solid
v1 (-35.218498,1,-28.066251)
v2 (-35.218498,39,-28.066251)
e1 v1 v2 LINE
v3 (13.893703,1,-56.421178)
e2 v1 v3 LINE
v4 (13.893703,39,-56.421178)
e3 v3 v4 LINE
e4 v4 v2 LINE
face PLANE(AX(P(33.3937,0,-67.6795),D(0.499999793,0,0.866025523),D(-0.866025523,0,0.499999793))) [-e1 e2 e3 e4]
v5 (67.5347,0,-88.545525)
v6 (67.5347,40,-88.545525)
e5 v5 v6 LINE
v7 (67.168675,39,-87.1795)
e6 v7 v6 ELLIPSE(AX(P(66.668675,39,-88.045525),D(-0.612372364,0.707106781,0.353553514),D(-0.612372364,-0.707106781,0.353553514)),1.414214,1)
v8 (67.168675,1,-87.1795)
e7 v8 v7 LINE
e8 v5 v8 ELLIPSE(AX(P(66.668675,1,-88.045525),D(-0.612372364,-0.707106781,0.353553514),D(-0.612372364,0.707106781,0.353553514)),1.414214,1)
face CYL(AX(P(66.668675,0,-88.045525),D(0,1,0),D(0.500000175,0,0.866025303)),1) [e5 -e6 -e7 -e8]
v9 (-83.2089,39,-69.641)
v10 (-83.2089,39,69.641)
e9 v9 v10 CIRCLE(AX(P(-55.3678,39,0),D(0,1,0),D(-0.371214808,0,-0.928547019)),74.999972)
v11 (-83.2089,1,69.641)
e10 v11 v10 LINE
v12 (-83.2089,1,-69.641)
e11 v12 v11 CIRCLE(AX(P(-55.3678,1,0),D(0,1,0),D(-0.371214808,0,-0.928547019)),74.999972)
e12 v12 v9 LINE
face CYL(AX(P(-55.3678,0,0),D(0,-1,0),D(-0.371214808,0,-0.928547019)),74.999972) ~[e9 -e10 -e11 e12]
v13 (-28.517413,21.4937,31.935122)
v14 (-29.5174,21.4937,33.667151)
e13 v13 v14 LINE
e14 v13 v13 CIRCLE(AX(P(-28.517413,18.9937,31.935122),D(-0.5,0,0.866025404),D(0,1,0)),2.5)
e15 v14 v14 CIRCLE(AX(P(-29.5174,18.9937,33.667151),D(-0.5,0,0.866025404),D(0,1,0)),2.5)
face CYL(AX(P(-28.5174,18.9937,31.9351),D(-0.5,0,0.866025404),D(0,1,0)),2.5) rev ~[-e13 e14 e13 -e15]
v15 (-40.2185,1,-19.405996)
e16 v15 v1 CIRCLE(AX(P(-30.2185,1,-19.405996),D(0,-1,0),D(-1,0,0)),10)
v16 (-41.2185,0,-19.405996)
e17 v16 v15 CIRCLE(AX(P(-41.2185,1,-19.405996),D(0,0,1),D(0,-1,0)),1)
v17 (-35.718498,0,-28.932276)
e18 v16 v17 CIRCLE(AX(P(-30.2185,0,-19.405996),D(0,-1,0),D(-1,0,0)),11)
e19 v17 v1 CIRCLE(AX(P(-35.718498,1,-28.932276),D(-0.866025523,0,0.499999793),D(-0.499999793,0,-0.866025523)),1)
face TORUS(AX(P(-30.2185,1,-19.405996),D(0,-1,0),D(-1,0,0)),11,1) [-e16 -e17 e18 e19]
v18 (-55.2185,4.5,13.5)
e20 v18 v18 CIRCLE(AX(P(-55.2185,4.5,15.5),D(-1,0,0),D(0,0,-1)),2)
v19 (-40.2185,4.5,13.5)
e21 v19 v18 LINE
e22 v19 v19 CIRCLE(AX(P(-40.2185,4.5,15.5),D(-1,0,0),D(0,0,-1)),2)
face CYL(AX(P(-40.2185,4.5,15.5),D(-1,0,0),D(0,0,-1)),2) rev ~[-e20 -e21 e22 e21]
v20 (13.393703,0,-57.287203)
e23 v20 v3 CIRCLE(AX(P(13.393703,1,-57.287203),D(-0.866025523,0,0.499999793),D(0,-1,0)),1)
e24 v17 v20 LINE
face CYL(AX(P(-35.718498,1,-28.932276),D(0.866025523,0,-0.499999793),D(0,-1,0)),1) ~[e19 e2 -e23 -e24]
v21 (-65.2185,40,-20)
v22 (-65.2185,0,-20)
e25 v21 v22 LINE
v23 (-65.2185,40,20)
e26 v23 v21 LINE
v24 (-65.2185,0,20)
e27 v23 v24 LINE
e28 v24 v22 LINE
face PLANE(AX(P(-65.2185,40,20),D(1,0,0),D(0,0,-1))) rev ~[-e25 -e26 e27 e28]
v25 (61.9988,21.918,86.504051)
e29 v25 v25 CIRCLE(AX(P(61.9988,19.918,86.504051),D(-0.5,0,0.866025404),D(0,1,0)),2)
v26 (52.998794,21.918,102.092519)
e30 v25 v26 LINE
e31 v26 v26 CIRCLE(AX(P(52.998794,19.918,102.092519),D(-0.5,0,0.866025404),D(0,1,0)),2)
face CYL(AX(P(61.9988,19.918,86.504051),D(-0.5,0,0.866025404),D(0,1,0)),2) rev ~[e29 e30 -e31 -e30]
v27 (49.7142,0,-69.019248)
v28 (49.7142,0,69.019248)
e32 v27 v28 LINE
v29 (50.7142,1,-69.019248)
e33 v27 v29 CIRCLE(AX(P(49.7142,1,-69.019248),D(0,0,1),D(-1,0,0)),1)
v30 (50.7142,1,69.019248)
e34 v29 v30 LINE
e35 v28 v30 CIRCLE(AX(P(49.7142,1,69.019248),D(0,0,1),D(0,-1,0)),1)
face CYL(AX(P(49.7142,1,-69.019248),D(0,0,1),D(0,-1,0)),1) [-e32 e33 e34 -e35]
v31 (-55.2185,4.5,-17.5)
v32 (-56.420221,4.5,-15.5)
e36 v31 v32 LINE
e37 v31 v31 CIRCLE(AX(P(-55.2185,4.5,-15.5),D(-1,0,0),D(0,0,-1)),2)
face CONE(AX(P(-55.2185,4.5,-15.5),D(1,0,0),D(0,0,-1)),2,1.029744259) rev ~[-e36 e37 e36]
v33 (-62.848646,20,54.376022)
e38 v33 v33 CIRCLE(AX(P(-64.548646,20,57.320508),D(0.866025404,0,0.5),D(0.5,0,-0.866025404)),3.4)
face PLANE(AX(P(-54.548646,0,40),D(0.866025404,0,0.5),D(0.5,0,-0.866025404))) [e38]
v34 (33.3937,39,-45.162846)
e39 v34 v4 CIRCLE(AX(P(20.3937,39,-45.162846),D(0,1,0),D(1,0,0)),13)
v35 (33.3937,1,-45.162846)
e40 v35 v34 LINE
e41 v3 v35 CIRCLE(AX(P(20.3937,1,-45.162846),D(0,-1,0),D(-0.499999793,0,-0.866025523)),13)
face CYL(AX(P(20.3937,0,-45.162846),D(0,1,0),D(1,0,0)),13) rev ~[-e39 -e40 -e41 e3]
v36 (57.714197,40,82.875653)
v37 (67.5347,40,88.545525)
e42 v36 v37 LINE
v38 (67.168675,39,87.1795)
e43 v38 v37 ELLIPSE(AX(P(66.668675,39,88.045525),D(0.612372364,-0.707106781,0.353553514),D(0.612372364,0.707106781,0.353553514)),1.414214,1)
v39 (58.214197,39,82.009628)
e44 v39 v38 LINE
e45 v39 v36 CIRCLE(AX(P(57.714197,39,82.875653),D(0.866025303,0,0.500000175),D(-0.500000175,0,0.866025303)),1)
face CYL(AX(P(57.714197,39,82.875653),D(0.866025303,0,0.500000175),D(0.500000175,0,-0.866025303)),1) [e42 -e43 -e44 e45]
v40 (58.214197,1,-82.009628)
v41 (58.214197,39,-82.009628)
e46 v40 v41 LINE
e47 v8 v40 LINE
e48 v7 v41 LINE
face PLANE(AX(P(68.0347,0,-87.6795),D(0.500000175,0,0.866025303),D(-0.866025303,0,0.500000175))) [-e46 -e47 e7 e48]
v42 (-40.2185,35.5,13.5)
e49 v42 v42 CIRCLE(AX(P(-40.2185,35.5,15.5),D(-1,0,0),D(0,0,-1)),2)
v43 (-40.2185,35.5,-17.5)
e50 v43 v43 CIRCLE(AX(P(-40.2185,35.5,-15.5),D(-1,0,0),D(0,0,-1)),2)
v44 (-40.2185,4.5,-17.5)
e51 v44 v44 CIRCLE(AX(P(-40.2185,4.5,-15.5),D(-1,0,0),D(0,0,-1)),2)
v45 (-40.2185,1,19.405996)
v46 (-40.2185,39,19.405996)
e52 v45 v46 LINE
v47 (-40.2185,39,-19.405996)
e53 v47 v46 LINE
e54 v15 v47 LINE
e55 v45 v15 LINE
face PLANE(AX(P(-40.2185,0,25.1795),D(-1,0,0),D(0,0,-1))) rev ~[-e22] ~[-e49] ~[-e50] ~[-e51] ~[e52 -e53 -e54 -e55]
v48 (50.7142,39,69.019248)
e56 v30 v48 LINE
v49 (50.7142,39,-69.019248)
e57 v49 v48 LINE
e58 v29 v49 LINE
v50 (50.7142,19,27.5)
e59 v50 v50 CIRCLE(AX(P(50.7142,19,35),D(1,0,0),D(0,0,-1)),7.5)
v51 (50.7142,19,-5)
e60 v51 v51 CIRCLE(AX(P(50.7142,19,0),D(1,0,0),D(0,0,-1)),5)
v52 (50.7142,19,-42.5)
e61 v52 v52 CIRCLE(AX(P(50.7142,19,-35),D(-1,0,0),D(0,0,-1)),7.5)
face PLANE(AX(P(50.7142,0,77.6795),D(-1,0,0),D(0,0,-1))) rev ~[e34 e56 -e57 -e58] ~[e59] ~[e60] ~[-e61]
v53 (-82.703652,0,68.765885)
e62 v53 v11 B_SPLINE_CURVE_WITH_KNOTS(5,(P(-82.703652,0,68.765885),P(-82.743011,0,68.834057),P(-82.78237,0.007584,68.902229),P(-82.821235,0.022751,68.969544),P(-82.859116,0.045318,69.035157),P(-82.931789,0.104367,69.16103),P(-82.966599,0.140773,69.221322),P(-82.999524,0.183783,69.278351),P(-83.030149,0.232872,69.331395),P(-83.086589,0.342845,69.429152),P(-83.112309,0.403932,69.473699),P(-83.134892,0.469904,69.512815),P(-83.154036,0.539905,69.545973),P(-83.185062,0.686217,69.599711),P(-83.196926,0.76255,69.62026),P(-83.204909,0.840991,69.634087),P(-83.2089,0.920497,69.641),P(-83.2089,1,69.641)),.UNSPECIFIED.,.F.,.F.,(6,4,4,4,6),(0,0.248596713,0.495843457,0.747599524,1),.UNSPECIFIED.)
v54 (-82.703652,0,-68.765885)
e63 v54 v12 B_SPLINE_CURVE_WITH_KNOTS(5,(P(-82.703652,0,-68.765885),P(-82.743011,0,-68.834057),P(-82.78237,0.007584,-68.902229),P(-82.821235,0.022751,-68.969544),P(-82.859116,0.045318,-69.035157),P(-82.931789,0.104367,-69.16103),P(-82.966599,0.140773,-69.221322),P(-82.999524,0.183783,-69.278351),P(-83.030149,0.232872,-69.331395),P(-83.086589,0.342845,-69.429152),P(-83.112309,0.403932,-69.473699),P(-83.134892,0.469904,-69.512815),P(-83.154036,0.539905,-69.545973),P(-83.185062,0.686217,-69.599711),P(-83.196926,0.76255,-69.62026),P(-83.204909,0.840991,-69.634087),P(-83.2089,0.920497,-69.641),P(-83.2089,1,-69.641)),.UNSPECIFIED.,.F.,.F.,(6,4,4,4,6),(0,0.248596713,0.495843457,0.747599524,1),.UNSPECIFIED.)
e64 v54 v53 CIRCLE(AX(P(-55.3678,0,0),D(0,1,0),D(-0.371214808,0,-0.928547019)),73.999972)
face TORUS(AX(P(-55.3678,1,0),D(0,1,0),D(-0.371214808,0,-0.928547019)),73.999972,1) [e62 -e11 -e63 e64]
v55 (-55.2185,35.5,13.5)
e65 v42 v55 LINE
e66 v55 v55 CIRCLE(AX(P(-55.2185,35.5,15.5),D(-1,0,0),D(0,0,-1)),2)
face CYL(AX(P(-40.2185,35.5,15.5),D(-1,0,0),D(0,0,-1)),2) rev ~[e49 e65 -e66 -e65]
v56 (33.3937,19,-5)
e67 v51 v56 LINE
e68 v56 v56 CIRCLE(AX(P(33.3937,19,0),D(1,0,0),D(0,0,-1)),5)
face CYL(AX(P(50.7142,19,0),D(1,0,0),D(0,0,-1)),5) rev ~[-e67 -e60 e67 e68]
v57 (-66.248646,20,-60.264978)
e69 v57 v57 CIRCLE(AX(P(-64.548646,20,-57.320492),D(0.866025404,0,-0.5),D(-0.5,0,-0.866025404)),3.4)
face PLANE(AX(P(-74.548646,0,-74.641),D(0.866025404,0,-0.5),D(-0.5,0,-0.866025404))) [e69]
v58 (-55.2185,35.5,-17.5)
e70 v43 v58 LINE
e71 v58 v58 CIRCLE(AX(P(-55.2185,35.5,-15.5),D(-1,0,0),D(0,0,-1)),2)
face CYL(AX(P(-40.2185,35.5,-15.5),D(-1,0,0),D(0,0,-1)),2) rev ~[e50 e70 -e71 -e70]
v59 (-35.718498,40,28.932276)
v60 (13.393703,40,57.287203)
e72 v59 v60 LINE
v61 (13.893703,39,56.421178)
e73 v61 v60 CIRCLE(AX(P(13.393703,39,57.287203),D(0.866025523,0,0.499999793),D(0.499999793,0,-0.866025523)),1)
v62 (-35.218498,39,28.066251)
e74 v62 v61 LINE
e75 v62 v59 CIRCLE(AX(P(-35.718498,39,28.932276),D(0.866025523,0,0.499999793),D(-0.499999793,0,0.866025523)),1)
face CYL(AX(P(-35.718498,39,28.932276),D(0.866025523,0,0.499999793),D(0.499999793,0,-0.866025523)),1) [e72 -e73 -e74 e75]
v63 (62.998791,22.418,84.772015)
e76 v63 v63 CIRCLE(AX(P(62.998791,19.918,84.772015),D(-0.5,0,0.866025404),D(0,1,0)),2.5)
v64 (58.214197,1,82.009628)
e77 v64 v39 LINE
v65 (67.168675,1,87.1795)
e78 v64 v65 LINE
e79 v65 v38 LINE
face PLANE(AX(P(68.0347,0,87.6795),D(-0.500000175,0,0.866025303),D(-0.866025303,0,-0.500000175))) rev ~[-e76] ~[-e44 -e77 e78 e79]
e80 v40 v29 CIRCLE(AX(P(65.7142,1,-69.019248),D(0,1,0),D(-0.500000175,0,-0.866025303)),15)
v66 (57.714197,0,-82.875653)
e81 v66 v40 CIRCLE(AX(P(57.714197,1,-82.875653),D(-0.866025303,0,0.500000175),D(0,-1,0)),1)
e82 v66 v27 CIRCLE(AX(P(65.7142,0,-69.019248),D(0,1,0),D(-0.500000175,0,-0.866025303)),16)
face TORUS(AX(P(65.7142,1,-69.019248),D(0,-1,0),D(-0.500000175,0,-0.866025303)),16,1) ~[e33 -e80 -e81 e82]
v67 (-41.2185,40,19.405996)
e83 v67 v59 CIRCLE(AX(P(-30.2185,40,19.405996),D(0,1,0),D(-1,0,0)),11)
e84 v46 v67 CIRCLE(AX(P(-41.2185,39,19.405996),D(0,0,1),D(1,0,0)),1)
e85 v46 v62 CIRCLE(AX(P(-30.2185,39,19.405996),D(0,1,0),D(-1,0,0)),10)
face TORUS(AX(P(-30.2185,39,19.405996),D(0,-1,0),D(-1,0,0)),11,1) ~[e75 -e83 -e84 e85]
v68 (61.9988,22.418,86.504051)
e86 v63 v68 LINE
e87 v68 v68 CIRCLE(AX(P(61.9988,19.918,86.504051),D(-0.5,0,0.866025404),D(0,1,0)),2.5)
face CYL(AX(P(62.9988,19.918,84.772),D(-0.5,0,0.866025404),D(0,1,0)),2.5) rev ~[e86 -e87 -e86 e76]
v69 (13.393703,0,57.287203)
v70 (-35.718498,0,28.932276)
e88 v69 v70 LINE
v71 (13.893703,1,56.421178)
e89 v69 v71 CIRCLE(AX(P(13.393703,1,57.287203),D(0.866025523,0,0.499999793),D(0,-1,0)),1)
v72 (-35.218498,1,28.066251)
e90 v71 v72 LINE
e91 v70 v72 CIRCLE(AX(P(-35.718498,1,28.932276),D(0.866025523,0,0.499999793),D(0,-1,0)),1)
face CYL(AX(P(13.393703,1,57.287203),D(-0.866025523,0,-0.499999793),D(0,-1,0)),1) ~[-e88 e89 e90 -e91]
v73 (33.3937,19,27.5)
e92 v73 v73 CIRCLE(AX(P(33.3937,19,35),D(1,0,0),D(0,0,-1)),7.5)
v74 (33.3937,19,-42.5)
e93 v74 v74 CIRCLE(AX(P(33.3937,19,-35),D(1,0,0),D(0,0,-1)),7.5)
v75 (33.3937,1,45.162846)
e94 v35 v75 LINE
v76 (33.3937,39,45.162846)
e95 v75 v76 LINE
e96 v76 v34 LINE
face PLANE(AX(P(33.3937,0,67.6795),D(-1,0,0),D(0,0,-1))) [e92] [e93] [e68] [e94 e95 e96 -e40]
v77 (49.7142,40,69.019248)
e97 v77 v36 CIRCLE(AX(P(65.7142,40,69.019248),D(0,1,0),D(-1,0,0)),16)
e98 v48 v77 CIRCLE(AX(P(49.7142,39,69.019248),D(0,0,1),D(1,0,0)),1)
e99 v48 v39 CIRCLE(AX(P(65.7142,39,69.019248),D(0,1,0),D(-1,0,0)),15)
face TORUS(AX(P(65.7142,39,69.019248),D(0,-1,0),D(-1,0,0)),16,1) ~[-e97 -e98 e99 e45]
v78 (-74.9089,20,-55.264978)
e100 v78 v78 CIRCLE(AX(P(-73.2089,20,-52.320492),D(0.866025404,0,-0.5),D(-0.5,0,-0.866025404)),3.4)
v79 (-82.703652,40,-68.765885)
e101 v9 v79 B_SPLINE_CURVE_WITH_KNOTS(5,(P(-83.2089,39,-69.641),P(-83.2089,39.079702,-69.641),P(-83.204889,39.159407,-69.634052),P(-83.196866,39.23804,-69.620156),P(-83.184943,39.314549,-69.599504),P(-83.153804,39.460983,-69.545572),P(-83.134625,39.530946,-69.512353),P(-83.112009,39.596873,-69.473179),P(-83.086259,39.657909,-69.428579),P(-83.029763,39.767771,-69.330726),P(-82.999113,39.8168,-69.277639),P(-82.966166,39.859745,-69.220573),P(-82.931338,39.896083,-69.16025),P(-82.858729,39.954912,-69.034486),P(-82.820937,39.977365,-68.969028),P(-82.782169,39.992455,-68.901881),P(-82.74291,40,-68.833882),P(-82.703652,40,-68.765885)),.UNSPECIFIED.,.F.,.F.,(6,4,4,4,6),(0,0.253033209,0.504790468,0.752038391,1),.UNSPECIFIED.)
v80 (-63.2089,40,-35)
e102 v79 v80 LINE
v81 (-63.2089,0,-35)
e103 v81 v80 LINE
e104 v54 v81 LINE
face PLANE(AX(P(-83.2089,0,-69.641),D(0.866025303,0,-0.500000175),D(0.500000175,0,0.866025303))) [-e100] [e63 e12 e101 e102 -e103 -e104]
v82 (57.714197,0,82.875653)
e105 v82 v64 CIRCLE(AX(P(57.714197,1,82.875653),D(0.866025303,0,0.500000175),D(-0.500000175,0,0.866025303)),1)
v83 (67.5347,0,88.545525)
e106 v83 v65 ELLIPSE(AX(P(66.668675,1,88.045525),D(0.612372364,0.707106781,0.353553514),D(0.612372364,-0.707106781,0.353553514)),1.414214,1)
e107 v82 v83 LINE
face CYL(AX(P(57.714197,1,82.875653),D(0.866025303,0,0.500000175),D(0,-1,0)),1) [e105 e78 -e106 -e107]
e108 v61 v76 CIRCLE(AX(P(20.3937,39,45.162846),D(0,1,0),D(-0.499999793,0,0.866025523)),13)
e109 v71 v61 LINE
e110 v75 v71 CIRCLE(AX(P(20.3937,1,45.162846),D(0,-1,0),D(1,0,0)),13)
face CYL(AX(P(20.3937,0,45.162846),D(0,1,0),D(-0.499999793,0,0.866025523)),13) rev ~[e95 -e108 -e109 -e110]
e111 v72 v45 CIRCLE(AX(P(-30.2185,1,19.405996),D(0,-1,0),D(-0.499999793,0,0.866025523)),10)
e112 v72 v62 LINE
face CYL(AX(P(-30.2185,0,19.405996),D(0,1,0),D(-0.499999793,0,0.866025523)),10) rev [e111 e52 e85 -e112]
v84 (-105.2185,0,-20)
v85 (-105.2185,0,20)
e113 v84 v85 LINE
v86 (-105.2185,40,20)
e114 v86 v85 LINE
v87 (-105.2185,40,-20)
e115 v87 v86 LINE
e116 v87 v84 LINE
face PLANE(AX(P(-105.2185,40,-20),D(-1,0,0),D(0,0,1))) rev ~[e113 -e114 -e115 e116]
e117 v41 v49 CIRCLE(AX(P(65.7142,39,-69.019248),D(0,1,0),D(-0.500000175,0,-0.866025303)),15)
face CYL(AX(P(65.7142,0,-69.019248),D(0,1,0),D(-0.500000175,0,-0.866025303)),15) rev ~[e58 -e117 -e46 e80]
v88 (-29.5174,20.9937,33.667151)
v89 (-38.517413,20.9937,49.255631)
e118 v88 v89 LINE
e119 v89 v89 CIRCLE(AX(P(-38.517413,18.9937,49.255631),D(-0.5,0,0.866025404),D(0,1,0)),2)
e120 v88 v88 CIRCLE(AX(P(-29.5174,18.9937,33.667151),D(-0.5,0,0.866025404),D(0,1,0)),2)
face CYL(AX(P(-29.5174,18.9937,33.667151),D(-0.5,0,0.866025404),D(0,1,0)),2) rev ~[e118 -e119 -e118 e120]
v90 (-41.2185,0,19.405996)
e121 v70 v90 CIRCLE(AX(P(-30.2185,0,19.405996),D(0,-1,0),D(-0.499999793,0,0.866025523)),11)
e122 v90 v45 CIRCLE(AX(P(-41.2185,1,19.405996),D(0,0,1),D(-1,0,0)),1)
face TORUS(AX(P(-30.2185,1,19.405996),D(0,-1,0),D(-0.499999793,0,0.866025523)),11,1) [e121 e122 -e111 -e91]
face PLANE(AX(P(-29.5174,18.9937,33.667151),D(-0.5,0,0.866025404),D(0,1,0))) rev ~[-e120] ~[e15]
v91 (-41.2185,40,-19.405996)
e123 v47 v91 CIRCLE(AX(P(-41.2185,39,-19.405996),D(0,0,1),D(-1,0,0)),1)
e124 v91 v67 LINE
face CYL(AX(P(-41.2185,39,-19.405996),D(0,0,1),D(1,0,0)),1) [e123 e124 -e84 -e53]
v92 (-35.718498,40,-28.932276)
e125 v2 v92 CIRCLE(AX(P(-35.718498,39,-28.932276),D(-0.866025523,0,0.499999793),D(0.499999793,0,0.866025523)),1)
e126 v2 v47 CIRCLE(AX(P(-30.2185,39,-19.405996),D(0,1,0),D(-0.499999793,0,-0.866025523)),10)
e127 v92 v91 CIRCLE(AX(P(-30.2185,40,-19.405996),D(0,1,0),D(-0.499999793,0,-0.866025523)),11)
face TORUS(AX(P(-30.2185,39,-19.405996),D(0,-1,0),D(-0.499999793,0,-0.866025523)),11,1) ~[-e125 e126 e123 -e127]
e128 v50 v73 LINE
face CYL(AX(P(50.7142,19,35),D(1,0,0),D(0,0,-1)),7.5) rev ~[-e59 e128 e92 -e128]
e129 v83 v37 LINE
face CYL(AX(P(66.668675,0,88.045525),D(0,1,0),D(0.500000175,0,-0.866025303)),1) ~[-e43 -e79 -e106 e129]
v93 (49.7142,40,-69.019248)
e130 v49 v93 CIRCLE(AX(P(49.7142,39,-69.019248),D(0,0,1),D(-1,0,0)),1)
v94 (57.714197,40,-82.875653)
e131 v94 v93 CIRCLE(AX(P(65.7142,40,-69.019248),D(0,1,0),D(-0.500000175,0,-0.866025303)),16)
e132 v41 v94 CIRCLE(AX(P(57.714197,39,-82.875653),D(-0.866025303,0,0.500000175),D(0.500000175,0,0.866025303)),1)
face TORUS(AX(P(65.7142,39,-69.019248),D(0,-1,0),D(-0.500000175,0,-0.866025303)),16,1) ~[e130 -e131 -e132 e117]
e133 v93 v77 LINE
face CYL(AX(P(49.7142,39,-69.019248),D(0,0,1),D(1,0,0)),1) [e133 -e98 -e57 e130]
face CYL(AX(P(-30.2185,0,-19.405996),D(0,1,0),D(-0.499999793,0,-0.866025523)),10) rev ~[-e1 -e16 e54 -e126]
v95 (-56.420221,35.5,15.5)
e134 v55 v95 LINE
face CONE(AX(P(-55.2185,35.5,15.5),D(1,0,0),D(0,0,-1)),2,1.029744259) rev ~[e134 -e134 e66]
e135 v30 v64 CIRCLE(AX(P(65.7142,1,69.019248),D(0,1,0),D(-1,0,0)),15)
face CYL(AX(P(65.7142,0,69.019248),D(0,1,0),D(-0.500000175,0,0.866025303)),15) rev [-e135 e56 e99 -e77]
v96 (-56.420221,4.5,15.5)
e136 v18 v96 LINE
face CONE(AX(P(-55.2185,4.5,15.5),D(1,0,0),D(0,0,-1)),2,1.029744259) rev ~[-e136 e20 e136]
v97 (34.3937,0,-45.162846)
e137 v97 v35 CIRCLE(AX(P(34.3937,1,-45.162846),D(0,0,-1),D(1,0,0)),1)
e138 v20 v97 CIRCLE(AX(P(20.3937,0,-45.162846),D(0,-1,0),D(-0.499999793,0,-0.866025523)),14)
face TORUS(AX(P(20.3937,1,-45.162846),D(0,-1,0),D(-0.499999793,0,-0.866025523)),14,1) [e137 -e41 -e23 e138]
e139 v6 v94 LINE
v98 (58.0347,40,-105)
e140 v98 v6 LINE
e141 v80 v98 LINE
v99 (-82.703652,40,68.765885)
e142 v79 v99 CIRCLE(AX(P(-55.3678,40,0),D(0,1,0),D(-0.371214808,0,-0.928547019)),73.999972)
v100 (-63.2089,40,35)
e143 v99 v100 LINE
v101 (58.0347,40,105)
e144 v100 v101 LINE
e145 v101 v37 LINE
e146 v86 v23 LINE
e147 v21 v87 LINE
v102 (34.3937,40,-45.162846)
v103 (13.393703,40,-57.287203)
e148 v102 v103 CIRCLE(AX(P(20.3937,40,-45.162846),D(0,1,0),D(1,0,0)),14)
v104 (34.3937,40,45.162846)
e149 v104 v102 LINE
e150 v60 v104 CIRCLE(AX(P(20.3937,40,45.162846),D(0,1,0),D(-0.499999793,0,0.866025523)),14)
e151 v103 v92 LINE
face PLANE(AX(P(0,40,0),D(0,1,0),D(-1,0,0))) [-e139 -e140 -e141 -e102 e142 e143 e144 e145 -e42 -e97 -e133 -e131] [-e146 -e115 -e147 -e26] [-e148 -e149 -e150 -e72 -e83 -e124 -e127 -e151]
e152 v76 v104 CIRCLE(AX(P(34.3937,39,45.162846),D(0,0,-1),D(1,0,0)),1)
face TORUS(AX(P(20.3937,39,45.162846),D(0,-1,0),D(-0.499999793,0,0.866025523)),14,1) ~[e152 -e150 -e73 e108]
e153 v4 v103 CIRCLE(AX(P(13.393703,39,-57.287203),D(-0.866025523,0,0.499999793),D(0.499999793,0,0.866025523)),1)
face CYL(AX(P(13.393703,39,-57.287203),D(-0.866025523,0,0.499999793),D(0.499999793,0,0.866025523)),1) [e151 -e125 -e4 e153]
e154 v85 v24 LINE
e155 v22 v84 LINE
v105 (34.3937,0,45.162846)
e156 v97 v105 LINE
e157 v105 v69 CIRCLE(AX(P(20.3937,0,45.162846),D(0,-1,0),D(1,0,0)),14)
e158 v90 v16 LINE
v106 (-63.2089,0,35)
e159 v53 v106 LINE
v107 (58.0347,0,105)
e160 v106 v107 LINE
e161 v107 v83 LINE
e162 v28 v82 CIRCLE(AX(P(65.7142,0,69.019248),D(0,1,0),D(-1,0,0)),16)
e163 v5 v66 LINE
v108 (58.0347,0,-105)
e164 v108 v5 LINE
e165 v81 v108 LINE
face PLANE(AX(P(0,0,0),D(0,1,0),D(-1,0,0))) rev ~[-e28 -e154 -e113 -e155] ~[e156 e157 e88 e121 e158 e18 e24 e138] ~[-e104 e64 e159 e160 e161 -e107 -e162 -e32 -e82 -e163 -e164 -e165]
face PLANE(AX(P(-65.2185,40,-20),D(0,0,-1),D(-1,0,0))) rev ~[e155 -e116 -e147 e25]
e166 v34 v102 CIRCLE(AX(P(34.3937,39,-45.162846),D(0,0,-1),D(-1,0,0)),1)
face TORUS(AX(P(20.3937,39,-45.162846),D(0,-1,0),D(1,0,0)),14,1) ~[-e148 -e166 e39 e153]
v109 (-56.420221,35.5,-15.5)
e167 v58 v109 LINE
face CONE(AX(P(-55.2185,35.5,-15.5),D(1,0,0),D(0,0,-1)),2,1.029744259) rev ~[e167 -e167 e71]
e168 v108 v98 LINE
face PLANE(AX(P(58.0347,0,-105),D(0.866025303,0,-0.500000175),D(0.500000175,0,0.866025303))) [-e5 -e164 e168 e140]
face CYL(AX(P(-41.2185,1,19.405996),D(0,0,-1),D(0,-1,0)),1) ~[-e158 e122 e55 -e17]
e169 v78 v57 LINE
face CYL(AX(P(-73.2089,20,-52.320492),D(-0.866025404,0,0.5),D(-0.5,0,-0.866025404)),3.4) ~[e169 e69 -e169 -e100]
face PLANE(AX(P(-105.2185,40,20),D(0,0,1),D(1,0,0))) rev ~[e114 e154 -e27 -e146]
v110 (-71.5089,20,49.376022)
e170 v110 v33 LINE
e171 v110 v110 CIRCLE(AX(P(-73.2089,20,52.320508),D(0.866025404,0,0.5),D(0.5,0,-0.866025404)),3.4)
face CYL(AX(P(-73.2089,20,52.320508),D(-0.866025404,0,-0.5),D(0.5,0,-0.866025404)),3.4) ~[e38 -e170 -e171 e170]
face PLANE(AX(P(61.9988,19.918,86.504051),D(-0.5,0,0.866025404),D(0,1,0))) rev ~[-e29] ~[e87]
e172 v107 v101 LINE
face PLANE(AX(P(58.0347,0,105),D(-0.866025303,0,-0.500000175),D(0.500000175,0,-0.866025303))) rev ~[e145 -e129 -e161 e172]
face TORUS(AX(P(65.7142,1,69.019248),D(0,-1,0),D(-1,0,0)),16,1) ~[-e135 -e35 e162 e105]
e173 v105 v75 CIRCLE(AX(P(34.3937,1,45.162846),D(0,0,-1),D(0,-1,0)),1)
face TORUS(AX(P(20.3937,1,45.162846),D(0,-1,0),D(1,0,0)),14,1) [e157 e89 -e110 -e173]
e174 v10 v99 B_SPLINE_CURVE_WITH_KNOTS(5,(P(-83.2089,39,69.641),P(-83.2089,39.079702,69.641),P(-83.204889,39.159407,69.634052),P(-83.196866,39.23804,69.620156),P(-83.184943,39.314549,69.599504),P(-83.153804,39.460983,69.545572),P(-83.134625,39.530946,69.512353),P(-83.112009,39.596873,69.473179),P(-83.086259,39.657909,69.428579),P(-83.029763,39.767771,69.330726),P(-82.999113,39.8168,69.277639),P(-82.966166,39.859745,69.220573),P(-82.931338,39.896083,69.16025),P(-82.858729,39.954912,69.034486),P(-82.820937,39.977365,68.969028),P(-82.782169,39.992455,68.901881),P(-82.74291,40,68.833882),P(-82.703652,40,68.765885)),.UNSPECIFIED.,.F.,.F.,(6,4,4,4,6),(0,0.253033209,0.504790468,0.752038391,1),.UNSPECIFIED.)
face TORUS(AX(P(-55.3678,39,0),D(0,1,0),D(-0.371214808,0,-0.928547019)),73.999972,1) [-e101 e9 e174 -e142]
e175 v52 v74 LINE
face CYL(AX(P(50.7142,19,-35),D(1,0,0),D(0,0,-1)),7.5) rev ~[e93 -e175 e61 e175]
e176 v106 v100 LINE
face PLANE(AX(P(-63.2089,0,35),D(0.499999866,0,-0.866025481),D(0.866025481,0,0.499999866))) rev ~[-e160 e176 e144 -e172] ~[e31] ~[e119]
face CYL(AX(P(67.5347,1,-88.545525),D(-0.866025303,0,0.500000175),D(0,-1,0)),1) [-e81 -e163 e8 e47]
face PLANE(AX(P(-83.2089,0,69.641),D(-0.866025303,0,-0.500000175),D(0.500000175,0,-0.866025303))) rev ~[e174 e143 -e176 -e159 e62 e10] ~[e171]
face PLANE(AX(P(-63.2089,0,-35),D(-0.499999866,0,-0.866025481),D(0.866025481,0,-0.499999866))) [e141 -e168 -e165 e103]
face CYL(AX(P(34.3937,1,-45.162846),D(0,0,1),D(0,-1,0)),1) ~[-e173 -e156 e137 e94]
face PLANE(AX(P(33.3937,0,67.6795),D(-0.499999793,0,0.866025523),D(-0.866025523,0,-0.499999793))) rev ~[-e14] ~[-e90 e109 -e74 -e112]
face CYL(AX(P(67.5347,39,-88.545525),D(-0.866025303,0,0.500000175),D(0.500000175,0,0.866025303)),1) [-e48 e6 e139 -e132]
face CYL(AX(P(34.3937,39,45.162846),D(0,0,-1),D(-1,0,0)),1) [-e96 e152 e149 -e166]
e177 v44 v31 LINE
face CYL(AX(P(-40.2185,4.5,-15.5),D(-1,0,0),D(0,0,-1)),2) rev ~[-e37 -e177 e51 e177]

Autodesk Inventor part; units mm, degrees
ref_plane "YZ Plane" through (0, 0, 0) normal (1, 0, 0) x (0, 1, 0)
ref_plane "XZ Plane" through (0, 0, 0) normal (0, 1, 0) x (-1, 0, 0)
ref_plane "XY Plane" through (0, 0, 0) normal (0, 0, 1) x (1, 0, 0)
sketch "Sketch1" plane through (0, 0, 0) normal (0, 1, 0) x (-1, 0, 0)
  line L0 (-126.3701, 48.161) -> (-51.2671, 4.8003) construction
  line L1 (-51.2671, 4.8003) -> (-126.3701, -38.5605) construction
  line L2 (-126.3701, -38.5605) -> (-126.3701, 48.161) construction
  line L3 (110.9585, 0) -> (-59.5814, 0) construction
  line L4 (83.2089, 69.641) -> (63.2089, 35)
  line L5 (63.2089, 35) -> (-58.0347, 105)
  line L6 (-58.0347, 105) -> (-68.0347, 87.6795)
  line L7 (-68.0347, 87.6795) -> (-50.7142, 77.6795)
  line L8 (-33.3937, 67.6795) -> (40.2185, 25.1795)
  line L9 (83.2089, -69.641) -> (63.2089, -35)
  line L10 (63.2089, -35) -> (-58.0347, -105)
  line L11 (-58.0347, -105) -> (-68.0347, -87.6795)
  line L12 (-68.0347, -87.6795) -> (-50.7142, -77.6795)
  line L13 (-33.3937, -67.6795) -> (40.2185, -25.1795)
  arc A0 (83.2089, -69.641) -> (83.2089, 69.641) centre (55.3678, 0) ccw
  line L14 (-50.7142, 77.6795) -> (-50.7142, -77.6795)
  line L15 (-33.3937, 67.6795) -> (-33.3937, -67.6795)
  line L16 (40.2185, 25.1795) -> (40.2185, -25.1795)
  dimension "d3" = 40
  dimension "d4" = 140
  dimension "d5" = 20
  dimension "d7" = 20
  dimension "d19" = 70
  dimension "d20" = 75
  dimension "d21" = 20
  dimension "d22" = 85
extrude "Extrusion1" add sketch "Sketch1" along normal blind 40
sketch "Sketch2" plane through (-63.2089, 0, 35) normal (0.866, 0, 0.5) x (0.5, 0, -0.866)
  circle A0 centre (-20, 20) radius 3.4
  line L0 (-40, 40) -> (0, 40) projected
  line L1 (-40, 0) -> (-40, 40) projected
  point P0 (61.9153, 0)
  point P1 (-20, 40)
  point P2 (-40, 20)
  dimension "d10" = 6.8
extrude "Extrusion2" add sketch "Sketch2" along normal blind 10
sketch "Sketch3" plane through (-83.2089, 0, -69.641) normal (0.866, 0, -0.5) x (-0.5, 0, -0.866)
  circle A0 centre (-20, 20) radius 3.4
  line L0 (-40, 40) -> (0, 40) projected
  line L1 (0, 0) -> (0, 40) projected
  point P0 (-101.9153, 0)
  point P1 (-20, 40)
  point P2 (0, 20)
  dimension "d13" = 6.8
extrude "Extrusion3" add sketch "Sketch3" along normal blind 10
sketch "Sketch4" plane through (0, 40, 0) normal (0, 1, 0) x (1, 0, 0)
  line L0 (-105.2185, -20) -> (-65.2185, -20)
  line L1 (-65.2185, -20) -> (-65.2185, 20)
  line L2 (-65.2185, 20) -> (-105.2185, 20)
  line L3 (-105.2185, 20) -> (-105.2185, -20)
  line L4 (-40.2185, -25.1795) -> (-40.2185, 25.1795) projected
  point P0 (0, 0)
  point P1 (-105.2185, 0)
  dimension "d16" = 40
  dimension "d17" = 40
  dimension "d23" = 25
extrude "Extrusion4" cut sketch "Sketch4" against normal blind 40
fillet "Fillet1" radius 10 2 edges at (-40.2185, 20, -25.1795) (-40.2185, 20, 25.1795)
fillet "Fillet2" radius 13 2 edges at (33.3937, 20, 67.6795) (33.3937, 20, -67.6795)
fillet "Fillet3" radius 15 2 edges at (50.7142, 20, 77.6795) (50.7142, 20, -77.6795)
sketch "Sketch5" plane through (68.0347, 0, 87.6795) normal (0.5, 0, -0.866) x (-0.866, 0, -0.5)
  point P0 (102.7595, 0)
  point P1 (5.815, 19.918)
hole "Hole1" at (62.9988, 19.918, 84.772) direction (-0.5, 0, 0.866) diameter 4 end through all counterbore diameter 5 counterbore depth 2
sketch "Sketch6" plane through (-35.2185, 0, 28.0662) normal (0.5, 0, -0.866) x (-0.866, 0, -0.5)
  point P0 (-16.467, 0)
  point P1 (-7.7378, 18.9937)
hole "Hole2" at (-28.5174, 18.9937, 31.9351) direction (-0.5, 0, 0.866) diameter 4 end through all counterbore diameter 5 counterbore depth 2
fillet "Fillet8" radius 1 16 edges at (-10.6624, 0, 42.2437) (33.3937, 0, 0) (-10.6624, 0, -42.2437) (-40.2185, 0, 0) (63.1244, 0, -84.8446) (63.1244, 0, 84.8446) (50.7142, 0, 0) (-10.6624, 40, -42.2437) (33.3937, 40, 0) (-10.6624, 40, 42.2437) (-40.2185, 40, 0) (63.1244, 40, -84.8446) (63.1244, 40, 84.8446) (50.7142, 40, 0) (68.0347, 20, 87.6795) (68.0347, 20, -87.6795)
fillet "Fillet9" radius 1 2 edges at (-130.3678, 0, 0) (-130.3678, 40, 0)
sketch "Sketch8" plane through (50.7142, 1, 69.0192) normal (1, 0, 0) x (0, 0, -1)
  circle A0 centre (34.0192, 18) radius 7.5
  circle A1 centre (104.0192, 18) radius 7.5
  line L0 (97.0855, 0) -> (97.0855, 38) projected
  line L1 (0, 38) -> (138.0385, 38) projected
  circle A2 centre (69.0192, 18) radius 5
  point P0 (69.0192, -1)
  dimension "d56" = 15
  dimension "d57" = 15
  dimension "d58" = 20
  dimension "d59" = 35
  dimension "d60" = 35
  dimension "d82" = 10
sketch "Sketch9" plane through (-40.2185, 1, 19.406) normal (1, 0, 0) x (0, 0, -1)
  line L0 (0, 38) -> (38.812, 38) projected
  line L1 (19.406, 38) -> (19.406, 0) construction
  line L2 (38.812, 0) -> (0, 0) projected
  line L3 (0, 19) -> (38.812, 19) construction
  line L4 (0, 0) -> (0, 38) projected
  line L5 (38.812, 38) -> (38.812, 0) projected
  point P0 (19.406, -1)
  point P1 (3.906, 34.5)
  point P2 (34.906, 34.5)
  point P3 (3.906, 3.5)
  point P4 (34.906, 3.5)
  dimension "d64" = 19
  dimension "d67" = 15.5
  dimension "d68" = 15.5
  dimension "d69" = 15.5
  dimension "d70" = 15.5
  dimension "d71" = 15.5
  dimension "d72" = 15.5
  dimension "d73" = 15.5
  dimension "d74" = 15.5
hole "Hole4" at (-40.2185, 35.5, 15.5) at (-40.2185, 35.5, -15.5) at (-40.2185, 4.5, 15.5) at (-40.2185, 4.5, -15.5) direction (-1, 0, 0) diameter 4 depth 15 tip angle 118
extrude "Extrusion6" cut sketch "Sketch8" against normal blind 20
properties part number "Profil_Winkel_oben"
